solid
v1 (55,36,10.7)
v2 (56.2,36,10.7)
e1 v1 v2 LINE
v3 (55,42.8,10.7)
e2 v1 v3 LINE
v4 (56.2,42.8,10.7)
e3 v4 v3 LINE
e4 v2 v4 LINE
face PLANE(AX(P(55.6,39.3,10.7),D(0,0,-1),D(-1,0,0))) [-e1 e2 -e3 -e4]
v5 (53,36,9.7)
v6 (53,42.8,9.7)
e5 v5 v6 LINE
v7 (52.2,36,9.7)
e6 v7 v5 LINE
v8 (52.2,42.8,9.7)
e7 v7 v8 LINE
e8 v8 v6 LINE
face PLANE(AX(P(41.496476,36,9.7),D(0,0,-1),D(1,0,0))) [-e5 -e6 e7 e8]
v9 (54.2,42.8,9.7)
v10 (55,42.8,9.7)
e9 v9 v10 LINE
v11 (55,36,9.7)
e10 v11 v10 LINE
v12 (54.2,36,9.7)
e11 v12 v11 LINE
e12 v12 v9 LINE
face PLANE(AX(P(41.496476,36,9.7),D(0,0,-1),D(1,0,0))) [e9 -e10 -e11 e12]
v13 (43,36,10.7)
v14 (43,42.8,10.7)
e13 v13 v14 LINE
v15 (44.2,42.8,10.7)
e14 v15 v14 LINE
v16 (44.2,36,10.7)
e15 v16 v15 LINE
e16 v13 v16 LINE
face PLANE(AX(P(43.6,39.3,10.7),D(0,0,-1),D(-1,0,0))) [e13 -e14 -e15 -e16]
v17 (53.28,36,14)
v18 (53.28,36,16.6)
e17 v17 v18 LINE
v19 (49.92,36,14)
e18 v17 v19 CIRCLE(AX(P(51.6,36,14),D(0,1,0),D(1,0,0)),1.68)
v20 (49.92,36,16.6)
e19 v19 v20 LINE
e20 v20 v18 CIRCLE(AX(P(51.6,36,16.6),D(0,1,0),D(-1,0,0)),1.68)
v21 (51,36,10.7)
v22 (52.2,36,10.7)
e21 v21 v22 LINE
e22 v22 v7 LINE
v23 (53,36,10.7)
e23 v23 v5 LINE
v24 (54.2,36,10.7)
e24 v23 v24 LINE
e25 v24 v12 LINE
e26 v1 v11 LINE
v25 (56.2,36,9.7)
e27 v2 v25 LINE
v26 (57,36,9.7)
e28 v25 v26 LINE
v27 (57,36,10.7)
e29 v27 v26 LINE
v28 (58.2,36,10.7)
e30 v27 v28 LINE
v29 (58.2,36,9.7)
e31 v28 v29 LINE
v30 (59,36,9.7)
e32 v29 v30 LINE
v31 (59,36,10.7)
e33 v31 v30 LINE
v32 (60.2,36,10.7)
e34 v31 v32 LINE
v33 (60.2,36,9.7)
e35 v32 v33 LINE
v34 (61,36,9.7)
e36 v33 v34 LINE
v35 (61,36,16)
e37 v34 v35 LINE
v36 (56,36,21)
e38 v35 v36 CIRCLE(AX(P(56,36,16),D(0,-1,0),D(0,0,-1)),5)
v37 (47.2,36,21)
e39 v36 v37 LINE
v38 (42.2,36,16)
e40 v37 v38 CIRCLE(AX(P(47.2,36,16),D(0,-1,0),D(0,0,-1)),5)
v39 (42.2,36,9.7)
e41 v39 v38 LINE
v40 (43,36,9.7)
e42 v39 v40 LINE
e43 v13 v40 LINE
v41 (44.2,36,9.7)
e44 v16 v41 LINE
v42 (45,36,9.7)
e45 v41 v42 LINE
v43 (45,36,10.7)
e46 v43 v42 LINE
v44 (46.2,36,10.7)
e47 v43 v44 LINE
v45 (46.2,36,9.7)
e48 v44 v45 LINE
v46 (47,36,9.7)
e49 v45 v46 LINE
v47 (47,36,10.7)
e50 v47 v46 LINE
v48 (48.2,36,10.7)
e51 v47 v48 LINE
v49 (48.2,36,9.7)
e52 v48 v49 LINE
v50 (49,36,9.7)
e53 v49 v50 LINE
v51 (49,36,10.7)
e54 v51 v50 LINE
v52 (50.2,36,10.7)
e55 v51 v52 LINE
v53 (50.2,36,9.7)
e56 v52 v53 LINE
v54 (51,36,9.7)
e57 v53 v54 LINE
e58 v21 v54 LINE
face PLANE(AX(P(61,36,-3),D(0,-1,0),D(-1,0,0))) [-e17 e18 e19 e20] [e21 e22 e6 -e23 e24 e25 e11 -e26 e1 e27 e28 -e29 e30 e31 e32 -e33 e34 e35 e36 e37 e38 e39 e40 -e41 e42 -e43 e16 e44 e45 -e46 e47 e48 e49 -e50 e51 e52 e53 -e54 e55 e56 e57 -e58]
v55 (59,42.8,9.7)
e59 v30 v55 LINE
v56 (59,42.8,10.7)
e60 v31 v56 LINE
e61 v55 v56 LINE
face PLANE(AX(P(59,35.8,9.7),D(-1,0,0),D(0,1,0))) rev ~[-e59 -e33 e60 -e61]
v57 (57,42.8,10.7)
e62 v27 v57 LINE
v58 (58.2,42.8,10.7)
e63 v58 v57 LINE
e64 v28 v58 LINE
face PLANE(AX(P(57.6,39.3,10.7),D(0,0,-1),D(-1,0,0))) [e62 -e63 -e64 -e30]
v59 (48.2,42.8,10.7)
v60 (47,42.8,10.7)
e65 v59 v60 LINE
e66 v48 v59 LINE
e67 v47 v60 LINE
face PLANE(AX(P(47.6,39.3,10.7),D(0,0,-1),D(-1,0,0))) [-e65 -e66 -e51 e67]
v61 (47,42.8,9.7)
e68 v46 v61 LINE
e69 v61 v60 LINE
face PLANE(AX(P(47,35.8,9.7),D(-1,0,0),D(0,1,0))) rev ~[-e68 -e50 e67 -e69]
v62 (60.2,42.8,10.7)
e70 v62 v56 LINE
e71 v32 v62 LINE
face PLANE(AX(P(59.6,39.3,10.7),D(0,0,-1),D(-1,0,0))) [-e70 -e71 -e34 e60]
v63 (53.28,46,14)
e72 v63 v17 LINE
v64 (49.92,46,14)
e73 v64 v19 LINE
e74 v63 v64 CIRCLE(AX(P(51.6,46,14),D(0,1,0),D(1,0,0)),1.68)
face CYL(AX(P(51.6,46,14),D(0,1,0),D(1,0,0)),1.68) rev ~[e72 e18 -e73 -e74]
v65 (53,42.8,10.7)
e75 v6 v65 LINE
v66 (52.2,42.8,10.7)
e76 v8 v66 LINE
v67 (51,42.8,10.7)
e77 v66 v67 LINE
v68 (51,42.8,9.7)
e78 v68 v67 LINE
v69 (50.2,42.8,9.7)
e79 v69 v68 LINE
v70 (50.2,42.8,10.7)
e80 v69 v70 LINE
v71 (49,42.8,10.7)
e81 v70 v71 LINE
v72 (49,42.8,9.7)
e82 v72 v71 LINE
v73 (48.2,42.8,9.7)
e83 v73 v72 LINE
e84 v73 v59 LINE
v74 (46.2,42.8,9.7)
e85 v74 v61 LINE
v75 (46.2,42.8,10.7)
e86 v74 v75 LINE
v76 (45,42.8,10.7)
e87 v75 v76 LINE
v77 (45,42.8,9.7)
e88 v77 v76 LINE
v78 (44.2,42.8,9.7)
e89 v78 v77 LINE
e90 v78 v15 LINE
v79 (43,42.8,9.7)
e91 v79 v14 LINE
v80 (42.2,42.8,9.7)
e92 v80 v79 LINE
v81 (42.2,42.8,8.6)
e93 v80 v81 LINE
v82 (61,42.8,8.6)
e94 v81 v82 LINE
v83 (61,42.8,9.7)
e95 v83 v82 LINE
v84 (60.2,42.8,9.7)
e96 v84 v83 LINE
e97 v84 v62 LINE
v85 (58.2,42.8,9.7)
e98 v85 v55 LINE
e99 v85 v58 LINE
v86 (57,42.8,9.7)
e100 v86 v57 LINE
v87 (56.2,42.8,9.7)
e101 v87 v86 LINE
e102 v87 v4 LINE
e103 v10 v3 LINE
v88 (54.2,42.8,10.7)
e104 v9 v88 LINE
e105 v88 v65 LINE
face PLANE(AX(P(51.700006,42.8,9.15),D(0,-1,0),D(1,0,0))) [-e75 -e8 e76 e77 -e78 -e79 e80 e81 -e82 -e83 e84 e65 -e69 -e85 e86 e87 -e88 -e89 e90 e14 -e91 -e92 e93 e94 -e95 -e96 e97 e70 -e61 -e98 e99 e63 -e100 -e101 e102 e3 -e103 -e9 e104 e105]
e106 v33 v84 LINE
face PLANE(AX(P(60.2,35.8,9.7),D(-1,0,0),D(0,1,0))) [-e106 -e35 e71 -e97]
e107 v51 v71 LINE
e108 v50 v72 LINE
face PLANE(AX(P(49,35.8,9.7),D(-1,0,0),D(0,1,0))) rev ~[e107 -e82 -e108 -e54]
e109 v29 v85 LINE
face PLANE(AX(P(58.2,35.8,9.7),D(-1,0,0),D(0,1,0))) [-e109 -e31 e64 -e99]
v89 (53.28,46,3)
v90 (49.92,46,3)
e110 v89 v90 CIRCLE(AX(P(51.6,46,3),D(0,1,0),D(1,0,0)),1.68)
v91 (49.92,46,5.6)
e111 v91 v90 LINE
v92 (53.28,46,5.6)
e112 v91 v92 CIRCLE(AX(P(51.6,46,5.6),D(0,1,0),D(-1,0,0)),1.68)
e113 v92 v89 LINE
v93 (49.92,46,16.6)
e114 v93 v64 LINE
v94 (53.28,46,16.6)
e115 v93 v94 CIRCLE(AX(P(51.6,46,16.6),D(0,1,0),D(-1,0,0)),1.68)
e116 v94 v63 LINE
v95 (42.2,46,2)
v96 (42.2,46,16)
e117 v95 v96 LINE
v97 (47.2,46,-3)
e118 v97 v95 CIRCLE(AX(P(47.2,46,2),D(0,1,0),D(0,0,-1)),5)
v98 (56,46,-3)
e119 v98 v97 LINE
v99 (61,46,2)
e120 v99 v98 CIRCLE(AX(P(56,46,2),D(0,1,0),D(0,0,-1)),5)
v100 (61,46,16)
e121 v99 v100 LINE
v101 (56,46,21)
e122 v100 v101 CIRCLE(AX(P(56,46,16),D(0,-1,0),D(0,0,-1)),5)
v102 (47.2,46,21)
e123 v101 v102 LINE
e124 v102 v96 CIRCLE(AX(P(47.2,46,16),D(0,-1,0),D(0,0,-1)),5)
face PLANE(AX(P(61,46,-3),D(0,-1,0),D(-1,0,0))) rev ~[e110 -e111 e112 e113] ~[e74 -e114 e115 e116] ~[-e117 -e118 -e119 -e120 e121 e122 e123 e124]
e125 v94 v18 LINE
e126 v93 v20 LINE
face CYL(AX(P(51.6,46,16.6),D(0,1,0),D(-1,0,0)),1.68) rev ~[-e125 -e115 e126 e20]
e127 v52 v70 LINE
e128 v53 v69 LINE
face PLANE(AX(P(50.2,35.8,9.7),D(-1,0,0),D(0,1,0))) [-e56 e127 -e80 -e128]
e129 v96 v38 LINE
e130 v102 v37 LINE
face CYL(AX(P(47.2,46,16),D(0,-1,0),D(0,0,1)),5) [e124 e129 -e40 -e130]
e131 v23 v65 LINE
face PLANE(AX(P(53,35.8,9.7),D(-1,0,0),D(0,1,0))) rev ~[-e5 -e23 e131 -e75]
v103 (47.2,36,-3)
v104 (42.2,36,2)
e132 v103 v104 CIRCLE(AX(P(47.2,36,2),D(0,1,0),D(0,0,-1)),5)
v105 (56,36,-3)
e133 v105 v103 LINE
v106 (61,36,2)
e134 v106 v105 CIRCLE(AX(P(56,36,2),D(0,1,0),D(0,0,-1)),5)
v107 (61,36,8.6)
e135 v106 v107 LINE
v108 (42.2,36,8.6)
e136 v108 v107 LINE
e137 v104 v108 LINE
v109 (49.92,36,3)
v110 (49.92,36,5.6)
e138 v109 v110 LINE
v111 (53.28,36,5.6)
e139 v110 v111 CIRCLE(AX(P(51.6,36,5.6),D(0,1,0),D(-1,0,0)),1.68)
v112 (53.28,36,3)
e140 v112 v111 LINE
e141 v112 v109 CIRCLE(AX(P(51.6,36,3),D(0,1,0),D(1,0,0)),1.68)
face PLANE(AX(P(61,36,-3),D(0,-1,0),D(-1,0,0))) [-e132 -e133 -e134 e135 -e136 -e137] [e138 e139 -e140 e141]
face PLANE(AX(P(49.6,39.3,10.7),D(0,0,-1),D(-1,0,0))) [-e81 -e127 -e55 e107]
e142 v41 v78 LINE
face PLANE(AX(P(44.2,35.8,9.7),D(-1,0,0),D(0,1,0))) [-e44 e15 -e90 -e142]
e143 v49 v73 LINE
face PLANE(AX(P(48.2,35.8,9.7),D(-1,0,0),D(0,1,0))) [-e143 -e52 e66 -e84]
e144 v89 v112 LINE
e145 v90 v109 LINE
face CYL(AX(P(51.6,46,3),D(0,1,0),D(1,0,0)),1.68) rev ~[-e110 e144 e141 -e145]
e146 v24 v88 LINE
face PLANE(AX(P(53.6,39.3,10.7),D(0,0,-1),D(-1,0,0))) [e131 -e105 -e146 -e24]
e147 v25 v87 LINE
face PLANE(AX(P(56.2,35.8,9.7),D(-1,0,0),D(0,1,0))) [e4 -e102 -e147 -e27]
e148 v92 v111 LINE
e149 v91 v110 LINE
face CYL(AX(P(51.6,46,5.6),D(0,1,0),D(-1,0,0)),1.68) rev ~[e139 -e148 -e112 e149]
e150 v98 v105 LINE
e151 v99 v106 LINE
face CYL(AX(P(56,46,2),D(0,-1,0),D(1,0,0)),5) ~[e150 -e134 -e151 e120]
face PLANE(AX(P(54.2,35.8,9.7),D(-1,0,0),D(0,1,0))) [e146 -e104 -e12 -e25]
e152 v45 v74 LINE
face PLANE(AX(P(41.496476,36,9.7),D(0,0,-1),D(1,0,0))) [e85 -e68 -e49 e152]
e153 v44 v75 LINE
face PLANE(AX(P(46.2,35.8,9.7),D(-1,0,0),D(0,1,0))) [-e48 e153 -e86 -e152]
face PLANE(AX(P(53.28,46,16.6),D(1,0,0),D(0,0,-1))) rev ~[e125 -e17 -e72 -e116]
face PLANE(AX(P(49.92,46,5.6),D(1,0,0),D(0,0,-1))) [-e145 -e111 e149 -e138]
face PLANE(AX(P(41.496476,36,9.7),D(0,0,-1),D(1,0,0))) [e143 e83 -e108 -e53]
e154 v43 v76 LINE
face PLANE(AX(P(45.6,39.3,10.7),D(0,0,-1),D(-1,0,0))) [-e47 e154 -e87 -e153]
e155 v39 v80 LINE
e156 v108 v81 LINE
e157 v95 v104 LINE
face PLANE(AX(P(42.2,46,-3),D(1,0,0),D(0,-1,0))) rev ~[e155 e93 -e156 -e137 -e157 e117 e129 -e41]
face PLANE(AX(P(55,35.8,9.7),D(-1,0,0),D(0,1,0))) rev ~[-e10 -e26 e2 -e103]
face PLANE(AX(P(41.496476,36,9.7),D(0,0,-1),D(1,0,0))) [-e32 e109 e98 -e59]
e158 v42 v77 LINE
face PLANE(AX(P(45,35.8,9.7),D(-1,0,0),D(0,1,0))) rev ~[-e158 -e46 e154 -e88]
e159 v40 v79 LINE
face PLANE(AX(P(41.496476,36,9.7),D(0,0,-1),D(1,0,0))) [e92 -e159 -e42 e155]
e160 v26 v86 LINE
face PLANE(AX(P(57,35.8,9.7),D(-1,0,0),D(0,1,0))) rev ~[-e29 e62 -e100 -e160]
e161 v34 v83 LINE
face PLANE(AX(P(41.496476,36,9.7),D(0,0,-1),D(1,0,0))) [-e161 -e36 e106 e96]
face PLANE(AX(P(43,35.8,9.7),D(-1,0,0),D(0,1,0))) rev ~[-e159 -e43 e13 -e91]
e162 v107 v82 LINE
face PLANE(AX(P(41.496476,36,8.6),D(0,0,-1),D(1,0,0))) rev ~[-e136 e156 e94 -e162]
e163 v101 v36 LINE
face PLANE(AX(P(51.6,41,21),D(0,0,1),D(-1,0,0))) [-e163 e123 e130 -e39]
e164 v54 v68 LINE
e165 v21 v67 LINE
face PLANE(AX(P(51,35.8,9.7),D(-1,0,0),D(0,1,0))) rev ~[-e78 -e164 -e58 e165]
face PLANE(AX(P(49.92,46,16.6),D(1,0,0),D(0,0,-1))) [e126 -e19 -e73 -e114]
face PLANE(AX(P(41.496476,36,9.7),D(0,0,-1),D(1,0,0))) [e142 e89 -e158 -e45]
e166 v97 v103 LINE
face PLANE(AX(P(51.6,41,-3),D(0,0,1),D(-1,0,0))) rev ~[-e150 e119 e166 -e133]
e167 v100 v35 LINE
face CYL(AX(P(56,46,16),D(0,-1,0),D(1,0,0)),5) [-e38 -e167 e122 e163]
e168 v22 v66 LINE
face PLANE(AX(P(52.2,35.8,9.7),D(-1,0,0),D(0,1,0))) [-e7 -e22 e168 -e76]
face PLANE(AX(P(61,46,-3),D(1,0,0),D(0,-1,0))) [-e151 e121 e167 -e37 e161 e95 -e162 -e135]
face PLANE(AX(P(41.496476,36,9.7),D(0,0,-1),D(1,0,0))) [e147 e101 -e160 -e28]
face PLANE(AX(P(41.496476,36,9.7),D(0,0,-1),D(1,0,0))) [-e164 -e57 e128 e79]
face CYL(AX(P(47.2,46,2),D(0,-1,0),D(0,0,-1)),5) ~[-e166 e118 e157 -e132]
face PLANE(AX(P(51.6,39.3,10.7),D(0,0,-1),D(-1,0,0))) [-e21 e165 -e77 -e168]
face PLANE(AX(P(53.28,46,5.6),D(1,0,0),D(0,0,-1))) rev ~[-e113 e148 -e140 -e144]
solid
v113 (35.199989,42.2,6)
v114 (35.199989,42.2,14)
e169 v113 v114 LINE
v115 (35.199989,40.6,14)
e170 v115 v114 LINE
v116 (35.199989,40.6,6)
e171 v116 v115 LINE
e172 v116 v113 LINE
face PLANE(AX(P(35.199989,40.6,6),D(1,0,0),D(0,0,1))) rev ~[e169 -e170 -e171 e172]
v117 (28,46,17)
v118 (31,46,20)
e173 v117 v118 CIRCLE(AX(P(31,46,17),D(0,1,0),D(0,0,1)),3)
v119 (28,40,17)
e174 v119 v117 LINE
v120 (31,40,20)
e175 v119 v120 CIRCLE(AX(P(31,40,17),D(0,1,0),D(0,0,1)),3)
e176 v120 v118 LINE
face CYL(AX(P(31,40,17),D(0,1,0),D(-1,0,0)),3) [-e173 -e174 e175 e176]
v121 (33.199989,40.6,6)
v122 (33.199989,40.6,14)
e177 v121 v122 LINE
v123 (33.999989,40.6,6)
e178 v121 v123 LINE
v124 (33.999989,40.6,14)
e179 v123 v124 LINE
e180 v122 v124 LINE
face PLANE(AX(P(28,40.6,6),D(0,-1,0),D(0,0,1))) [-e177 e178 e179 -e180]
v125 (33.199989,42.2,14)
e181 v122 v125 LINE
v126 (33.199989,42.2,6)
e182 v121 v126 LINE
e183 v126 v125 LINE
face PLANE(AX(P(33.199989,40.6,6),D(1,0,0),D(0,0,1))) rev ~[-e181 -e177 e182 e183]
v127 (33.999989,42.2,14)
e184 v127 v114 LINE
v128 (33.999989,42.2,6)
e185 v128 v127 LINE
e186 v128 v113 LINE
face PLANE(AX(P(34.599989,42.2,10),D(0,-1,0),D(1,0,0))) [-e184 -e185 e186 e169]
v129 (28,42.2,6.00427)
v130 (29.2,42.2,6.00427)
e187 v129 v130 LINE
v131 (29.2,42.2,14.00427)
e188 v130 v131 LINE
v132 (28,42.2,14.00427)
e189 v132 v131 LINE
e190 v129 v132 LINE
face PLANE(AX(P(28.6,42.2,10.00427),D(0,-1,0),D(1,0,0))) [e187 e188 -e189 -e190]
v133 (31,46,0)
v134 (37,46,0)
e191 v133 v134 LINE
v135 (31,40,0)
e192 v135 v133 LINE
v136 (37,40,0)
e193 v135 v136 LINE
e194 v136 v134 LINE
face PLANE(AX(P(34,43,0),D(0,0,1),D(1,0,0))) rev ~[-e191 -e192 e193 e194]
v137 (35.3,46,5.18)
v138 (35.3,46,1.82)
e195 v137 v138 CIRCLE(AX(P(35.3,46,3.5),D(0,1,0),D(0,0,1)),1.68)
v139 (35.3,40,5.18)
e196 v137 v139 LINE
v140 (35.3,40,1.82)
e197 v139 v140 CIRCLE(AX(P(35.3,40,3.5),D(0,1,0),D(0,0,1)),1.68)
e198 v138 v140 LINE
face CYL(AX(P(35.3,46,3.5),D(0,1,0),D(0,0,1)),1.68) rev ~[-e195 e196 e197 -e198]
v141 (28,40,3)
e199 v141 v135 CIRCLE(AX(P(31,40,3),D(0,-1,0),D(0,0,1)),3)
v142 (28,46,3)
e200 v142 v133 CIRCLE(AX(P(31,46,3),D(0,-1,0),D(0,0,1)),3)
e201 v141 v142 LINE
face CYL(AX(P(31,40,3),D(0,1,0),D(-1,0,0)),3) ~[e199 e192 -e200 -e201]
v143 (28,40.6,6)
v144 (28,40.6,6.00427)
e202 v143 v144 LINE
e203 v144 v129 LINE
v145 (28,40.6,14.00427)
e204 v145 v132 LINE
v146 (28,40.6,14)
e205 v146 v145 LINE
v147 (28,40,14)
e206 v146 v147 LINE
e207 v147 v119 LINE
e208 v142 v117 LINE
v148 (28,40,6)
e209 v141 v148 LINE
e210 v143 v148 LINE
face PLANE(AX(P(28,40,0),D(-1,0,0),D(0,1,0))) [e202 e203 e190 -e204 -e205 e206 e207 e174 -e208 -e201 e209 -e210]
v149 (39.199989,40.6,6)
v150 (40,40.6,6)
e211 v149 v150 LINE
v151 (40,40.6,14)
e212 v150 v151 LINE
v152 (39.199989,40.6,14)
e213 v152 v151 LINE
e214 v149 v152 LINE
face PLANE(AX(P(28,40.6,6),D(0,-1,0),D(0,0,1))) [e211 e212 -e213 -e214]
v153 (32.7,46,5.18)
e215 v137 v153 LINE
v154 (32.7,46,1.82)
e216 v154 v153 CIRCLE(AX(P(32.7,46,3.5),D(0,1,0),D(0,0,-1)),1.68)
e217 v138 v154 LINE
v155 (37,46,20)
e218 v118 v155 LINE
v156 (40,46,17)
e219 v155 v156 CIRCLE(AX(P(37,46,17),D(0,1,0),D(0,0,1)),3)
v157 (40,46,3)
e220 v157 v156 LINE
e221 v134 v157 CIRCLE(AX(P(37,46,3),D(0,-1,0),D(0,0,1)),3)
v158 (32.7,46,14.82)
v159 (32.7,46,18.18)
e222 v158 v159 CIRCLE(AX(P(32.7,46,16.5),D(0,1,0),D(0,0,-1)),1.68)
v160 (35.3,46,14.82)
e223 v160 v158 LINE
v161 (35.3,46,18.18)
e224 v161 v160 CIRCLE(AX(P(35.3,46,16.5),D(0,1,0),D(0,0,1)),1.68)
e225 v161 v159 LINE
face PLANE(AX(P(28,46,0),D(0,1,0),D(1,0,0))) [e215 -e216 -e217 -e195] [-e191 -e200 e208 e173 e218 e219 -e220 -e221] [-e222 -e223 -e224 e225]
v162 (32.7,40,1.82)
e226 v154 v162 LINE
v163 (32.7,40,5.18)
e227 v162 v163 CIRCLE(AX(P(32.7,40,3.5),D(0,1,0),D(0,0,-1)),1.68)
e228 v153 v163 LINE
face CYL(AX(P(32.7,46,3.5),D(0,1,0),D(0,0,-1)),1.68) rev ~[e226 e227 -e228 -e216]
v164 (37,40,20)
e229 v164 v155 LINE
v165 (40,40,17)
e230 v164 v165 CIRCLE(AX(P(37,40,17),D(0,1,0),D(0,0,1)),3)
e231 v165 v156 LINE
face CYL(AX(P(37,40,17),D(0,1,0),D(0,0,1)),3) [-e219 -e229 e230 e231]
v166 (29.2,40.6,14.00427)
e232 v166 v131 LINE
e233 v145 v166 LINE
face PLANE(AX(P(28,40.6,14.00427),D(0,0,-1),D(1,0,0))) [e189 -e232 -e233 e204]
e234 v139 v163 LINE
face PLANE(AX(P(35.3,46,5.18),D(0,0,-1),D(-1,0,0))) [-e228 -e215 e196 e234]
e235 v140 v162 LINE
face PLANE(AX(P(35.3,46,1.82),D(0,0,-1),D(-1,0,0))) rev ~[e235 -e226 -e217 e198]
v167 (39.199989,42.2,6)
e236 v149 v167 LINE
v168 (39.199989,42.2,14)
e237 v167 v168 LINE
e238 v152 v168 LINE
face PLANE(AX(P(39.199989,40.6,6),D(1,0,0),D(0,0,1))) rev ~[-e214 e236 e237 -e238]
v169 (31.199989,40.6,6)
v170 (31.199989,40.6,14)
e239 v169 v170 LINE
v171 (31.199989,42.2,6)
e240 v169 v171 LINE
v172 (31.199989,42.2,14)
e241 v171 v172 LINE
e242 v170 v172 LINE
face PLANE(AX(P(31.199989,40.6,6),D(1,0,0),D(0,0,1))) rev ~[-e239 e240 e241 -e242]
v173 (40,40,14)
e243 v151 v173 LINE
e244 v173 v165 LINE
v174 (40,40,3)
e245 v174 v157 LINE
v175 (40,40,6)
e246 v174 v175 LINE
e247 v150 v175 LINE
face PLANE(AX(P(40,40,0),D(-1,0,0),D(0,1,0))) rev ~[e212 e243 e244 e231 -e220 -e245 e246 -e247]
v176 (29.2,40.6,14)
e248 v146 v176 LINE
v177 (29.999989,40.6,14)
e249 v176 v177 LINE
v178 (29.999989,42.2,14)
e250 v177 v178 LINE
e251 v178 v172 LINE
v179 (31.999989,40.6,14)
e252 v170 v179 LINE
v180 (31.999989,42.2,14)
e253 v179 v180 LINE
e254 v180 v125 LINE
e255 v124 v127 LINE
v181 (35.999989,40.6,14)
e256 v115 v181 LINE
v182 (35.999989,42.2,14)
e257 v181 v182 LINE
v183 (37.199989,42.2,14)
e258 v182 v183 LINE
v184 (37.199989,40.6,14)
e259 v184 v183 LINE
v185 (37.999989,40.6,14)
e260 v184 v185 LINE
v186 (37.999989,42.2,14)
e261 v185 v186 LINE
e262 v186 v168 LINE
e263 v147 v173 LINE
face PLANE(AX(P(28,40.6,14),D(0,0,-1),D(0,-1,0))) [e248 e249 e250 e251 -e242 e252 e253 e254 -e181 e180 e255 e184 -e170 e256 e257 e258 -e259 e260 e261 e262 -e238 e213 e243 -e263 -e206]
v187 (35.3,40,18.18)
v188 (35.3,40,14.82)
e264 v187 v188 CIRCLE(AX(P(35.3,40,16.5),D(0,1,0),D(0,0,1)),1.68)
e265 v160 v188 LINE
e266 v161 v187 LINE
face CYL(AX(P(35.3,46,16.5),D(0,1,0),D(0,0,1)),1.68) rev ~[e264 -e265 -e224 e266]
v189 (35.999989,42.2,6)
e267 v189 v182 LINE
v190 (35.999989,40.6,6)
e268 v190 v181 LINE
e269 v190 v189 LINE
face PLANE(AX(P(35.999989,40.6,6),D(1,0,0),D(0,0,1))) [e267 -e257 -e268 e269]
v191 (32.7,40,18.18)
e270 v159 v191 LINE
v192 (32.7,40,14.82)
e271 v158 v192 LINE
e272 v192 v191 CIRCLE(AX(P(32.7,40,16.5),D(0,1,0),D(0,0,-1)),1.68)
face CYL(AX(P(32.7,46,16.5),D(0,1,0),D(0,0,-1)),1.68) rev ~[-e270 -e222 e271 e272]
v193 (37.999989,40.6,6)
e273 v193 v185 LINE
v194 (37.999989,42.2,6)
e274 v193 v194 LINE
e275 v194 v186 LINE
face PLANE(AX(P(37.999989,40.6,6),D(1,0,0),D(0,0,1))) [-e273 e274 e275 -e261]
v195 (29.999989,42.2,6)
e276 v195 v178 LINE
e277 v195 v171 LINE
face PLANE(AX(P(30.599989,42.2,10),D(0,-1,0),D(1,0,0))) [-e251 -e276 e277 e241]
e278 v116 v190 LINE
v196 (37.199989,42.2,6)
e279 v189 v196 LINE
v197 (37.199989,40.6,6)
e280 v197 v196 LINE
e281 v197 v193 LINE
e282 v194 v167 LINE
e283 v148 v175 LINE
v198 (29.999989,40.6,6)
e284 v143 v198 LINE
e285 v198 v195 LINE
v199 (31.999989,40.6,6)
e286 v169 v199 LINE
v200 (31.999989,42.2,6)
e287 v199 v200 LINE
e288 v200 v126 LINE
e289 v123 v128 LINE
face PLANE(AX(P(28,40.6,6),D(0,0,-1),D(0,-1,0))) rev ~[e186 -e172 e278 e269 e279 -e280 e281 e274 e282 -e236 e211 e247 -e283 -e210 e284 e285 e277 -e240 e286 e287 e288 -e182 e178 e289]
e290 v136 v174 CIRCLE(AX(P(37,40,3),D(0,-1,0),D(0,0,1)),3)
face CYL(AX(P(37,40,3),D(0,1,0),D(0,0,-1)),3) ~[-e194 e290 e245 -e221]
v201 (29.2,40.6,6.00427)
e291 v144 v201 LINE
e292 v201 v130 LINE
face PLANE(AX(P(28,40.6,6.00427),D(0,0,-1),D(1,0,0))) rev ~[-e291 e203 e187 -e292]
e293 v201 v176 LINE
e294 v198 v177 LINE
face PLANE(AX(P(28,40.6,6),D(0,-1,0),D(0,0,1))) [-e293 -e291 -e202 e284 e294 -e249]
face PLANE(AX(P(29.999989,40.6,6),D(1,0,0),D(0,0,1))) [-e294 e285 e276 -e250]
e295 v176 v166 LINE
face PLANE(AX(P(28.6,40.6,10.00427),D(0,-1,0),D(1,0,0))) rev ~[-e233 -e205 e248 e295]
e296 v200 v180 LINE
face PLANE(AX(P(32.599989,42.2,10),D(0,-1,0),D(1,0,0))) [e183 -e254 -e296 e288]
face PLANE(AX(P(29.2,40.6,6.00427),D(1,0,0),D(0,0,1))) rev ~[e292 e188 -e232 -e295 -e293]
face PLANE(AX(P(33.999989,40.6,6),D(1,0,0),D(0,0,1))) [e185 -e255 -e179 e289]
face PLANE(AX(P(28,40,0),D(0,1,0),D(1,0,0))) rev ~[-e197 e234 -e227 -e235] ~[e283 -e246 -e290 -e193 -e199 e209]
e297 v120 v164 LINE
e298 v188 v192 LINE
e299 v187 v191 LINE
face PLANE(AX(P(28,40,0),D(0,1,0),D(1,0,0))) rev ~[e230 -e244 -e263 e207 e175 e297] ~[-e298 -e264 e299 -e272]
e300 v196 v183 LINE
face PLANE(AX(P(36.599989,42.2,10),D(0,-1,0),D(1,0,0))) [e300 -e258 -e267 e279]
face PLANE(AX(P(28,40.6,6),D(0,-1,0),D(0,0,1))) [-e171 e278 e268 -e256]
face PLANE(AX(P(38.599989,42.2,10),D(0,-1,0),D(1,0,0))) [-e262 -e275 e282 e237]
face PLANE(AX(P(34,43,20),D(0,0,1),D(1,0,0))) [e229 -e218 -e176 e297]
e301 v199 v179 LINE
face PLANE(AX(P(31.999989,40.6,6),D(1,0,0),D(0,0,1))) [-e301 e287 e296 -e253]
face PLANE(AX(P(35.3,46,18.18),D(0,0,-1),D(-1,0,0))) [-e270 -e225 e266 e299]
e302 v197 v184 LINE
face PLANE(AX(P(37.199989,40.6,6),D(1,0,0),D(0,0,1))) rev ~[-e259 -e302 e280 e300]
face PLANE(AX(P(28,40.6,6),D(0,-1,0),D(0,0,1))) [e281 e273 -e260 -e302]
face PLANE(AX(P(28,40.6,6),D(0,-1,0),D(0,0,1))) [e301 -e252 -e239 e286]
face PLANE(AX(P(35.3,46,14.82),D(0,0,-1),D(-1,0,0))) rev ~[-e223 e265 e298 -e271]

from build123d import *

# Parameters (mm, degrees)
BOX002_W        = 12
BOX002_H        = 6
BOX002_DEPTH    = 20
POCKET015_DEPTH = 6.001
SKETCH013_W     = 0.6
SKETCH013_H     = 8
POCKET016_DEPTH = 12.001
SKETCH011_W     = 1.2
SKETCH011_H     = 8
POCKET017_DEPTH = 1.6
FILLET006_R     = 3
BOX003_W        = 18.8
BOX003_H        = 10
BOX003_DEPTH    = 24
POCKET_DEPTH    = 10.001
SKETCH014_W     = 20.407059
SKETCH014_H     = 1.1
POCKET013_DEPTH = 6.8
SKETCH015_W     = 1.2
SKETCH015_H     = 7
POCKET014_DEPTH = 1
FILLET_R        = 5


with BuildPart() as fillet006:
    # Box002 → Box002 (new body)
    with BuildSketch(Plane(origin=(28, 40, 0), x_dir=(1, 0, 0), z_dir=(0, 0, 1))):
        with Locations((6, 3)):
            Rectangle(BOX002_W, BOX002_H)
    extrude(amount=BOX002_DEPTH)

    # Sketch012 → Pocket015 (cut, through all)
    with BuildSketch(Plane(origin=(28, 46, 0), x_dir=(-1, 0, 0), z_dir=(0, 1, 0))):
        with BuildLine():
            ThreePointArc((-7.3, 18.18), (-8.98, 16.5), (-7.3, 14.82))
            Line((-7.3, 14.82), (-4.7, 14.82))
            ThreePointArc((-4.7, 14.82), (-3.02, 16.5), (-4.7, 18.18))
            Line((-7.3, 18.18), (-4.7, 18.18))
        make_face()
        with BuildLine():
            ThreePointArc((-7.3, 5.18), (-8.98, 3.5), (-7.3, 1.82))
            Line((-7.3, 1.82), (-4.7, 1.82))
            ThreePointArc((-4.7, 1.82), (-3.02, 3.5), (-4.7, 5.18))
            Line((-7.3, 5.18), (-4.7, 5.18))
        make_face()
    extrude(amount=-POCKET015_DEPTH, mode=Mode.SUBTRACT)

    # Sketch013 → Pocket016 (cut, through all)
    with BuildSketch(Plane(origin=(28, 40, 0), x_dir=(0, -1, 0), z_dir=(-1, 0, 0))):
        with Locations((-0.3, 10)):
            Rectangle(SKETCH013_W, SKETCH013_H)
    extrude(amount=-POCKET016_DEPTH, mode=Mode.SUBTRACT)

    # Sketch011 → Pocket017 (cut)
    with BuildSketch(Plane(origin=(28, 40.6, 0), x_dir=(1, 0, 0), z_dir=(0, -1, 0))):
        with Locations((6.599989, 10)):
            Rectangle(SKETCH011_W, SKETCH011_H)
        with Locations((4.599989, 10)):
            Rectangle(SKETCH011_W, SKETCH011_H)
        with Locations((2.599989, 10)):
            Rectangle(SKETCH011_W, SKETCH011_H)
        with Locations((0.6, 10.00427)):
            Rectangle(SKETCH011_W, SKETCH011_H)
        with Locations((8.599989, 10)):
            Rectangle(SKETCH011_W, SKETCH011_H)
        with Locations((10.599989, 10)):
            Rectangle(SKETCH011_W, SKETCH011_H)
    extrude(amount=-POCKET017_DEPTH, mode=Mode.SUBTRACT)

    # Fillet006
    fillet006_edges = [fillet006.edges().sort_by_distance(p)[0] for p in [
        (28, 43, 20),
        (28, 43, 0),
        (40, 43, 20),
        (40, 43, 0),
    ]]
    fillet(fillet006_edges, radius=FILLET006_R)


with BuildPart() as fillet_body:
    # Box003 → Box003 (new body)
    with BuildSketch(Plane(origin=(61, 46, -3), x_dir=(-1, 0, 0), z_dir=(0, 0, 1))):
        with Locations((9.4, 5)):
            Rectangle(BOX003_W, BOX003_H)
    extrude(amount=BOX003_DEPTH)

    # Sketch → Pocket (cut, through all)
    with BuildSketch(Plane(origin=(61, 46, -3), x_dir=(-1, 0, 0), z_dir=(0, 1, 0))):
        with BuildLine():
            ThreePointArc((11.08, 19.6), (9.4, 21.28), (7.72, 19.6))
            Line((7.72, 19.6), (7.72, 17))
            ThreePointArc((7.72, 17), (9.4, 15.32), (11.08, 17))
            Line((11.08, 19.6), (11.08, 17))
        make_face()
        with BuildLine():
            ThreePointArc((11.08, 8.6), (9.4, 10.28), (7.72, 8.6))
            Line((7.72, 8.6), (7.72, 6))
            ThreePointArc((7.72, 6), (9.4, 4.32), (11.08, 6))
            Line((11.08, 8.6), (11.08, 6))
        make_face()
    extrude(amount=-POCKET_DEPTH, mode=Mode.SUBTRACT)

    # Sketch014 → Pocket013 (cut)
    with BuildSketch(Plane(origin=(61, 36, -3), x_dir=(1, 0, 0), z_dir=(0, -1, 0))):
        with Locations((-9.299994, 12.15)):
            Rectangle(SKETCH014_W, SKETCH014_H)
    extrude(amount=-POCKET013_DEPTH, mode=Mode.SUBTRACT)

    # Sketch015 → Pocket014 (cut)
    with BuildSketch(Plane(origin=(61, 46, 9.7), x_dir=(-1, 0, 0), z_dir=(0, 0, -1))):
        with Locations((1.4, -6.7)):
            Rectangle(SKETCH015_W, SKETCH015_H)
        with Locations((3.4, -6.7)):
            Rectangle(SKETCH015_W, SKETCH015_H)
        with Locations((5.4, -6.7)):
            Rectangle(SKETCH015_W, SKETCH015_H)
        with Locations((7.4, -6.7)):
            Rectangle(SKETCH015_W, SKETCH015_H)
        with Locations((9.4, -6.7)):
            Rectangle(SKETCH015_W, SKETCH015_H)
        with Locations((11.4, -6.7)):
            Rectangle(SKETCH015_W, SKETCH015_H)
        with Locations((13.4, -6.7)):
            Rectangle(SKETCH015_W, SKETCH015_H)
        with Locations((15.4, -6.7)):
            Rectangle(SKETCH015_W, SKETCH015_H)
        with Locations((17.4, -6.7)):
            Rectangle(SKETCH015_W, SKETCH015_H)
    extrude(amount=-POCKET014_DEPTH, mode=Mode.SUBTRACT)

    # Fillet
    fillet_edges = [fillet_body.edges().sort_by_distance(p)[0] for p in [
        (42.2, 41, 21),
        (61, 41, 21),
        (61, 41, -3),
        (42.2, 41, -3),
    ]]
    fillet(fillet_edges, radius=FILLET_R)


solid = Compound([fillet006.part, fillet_body.part])
